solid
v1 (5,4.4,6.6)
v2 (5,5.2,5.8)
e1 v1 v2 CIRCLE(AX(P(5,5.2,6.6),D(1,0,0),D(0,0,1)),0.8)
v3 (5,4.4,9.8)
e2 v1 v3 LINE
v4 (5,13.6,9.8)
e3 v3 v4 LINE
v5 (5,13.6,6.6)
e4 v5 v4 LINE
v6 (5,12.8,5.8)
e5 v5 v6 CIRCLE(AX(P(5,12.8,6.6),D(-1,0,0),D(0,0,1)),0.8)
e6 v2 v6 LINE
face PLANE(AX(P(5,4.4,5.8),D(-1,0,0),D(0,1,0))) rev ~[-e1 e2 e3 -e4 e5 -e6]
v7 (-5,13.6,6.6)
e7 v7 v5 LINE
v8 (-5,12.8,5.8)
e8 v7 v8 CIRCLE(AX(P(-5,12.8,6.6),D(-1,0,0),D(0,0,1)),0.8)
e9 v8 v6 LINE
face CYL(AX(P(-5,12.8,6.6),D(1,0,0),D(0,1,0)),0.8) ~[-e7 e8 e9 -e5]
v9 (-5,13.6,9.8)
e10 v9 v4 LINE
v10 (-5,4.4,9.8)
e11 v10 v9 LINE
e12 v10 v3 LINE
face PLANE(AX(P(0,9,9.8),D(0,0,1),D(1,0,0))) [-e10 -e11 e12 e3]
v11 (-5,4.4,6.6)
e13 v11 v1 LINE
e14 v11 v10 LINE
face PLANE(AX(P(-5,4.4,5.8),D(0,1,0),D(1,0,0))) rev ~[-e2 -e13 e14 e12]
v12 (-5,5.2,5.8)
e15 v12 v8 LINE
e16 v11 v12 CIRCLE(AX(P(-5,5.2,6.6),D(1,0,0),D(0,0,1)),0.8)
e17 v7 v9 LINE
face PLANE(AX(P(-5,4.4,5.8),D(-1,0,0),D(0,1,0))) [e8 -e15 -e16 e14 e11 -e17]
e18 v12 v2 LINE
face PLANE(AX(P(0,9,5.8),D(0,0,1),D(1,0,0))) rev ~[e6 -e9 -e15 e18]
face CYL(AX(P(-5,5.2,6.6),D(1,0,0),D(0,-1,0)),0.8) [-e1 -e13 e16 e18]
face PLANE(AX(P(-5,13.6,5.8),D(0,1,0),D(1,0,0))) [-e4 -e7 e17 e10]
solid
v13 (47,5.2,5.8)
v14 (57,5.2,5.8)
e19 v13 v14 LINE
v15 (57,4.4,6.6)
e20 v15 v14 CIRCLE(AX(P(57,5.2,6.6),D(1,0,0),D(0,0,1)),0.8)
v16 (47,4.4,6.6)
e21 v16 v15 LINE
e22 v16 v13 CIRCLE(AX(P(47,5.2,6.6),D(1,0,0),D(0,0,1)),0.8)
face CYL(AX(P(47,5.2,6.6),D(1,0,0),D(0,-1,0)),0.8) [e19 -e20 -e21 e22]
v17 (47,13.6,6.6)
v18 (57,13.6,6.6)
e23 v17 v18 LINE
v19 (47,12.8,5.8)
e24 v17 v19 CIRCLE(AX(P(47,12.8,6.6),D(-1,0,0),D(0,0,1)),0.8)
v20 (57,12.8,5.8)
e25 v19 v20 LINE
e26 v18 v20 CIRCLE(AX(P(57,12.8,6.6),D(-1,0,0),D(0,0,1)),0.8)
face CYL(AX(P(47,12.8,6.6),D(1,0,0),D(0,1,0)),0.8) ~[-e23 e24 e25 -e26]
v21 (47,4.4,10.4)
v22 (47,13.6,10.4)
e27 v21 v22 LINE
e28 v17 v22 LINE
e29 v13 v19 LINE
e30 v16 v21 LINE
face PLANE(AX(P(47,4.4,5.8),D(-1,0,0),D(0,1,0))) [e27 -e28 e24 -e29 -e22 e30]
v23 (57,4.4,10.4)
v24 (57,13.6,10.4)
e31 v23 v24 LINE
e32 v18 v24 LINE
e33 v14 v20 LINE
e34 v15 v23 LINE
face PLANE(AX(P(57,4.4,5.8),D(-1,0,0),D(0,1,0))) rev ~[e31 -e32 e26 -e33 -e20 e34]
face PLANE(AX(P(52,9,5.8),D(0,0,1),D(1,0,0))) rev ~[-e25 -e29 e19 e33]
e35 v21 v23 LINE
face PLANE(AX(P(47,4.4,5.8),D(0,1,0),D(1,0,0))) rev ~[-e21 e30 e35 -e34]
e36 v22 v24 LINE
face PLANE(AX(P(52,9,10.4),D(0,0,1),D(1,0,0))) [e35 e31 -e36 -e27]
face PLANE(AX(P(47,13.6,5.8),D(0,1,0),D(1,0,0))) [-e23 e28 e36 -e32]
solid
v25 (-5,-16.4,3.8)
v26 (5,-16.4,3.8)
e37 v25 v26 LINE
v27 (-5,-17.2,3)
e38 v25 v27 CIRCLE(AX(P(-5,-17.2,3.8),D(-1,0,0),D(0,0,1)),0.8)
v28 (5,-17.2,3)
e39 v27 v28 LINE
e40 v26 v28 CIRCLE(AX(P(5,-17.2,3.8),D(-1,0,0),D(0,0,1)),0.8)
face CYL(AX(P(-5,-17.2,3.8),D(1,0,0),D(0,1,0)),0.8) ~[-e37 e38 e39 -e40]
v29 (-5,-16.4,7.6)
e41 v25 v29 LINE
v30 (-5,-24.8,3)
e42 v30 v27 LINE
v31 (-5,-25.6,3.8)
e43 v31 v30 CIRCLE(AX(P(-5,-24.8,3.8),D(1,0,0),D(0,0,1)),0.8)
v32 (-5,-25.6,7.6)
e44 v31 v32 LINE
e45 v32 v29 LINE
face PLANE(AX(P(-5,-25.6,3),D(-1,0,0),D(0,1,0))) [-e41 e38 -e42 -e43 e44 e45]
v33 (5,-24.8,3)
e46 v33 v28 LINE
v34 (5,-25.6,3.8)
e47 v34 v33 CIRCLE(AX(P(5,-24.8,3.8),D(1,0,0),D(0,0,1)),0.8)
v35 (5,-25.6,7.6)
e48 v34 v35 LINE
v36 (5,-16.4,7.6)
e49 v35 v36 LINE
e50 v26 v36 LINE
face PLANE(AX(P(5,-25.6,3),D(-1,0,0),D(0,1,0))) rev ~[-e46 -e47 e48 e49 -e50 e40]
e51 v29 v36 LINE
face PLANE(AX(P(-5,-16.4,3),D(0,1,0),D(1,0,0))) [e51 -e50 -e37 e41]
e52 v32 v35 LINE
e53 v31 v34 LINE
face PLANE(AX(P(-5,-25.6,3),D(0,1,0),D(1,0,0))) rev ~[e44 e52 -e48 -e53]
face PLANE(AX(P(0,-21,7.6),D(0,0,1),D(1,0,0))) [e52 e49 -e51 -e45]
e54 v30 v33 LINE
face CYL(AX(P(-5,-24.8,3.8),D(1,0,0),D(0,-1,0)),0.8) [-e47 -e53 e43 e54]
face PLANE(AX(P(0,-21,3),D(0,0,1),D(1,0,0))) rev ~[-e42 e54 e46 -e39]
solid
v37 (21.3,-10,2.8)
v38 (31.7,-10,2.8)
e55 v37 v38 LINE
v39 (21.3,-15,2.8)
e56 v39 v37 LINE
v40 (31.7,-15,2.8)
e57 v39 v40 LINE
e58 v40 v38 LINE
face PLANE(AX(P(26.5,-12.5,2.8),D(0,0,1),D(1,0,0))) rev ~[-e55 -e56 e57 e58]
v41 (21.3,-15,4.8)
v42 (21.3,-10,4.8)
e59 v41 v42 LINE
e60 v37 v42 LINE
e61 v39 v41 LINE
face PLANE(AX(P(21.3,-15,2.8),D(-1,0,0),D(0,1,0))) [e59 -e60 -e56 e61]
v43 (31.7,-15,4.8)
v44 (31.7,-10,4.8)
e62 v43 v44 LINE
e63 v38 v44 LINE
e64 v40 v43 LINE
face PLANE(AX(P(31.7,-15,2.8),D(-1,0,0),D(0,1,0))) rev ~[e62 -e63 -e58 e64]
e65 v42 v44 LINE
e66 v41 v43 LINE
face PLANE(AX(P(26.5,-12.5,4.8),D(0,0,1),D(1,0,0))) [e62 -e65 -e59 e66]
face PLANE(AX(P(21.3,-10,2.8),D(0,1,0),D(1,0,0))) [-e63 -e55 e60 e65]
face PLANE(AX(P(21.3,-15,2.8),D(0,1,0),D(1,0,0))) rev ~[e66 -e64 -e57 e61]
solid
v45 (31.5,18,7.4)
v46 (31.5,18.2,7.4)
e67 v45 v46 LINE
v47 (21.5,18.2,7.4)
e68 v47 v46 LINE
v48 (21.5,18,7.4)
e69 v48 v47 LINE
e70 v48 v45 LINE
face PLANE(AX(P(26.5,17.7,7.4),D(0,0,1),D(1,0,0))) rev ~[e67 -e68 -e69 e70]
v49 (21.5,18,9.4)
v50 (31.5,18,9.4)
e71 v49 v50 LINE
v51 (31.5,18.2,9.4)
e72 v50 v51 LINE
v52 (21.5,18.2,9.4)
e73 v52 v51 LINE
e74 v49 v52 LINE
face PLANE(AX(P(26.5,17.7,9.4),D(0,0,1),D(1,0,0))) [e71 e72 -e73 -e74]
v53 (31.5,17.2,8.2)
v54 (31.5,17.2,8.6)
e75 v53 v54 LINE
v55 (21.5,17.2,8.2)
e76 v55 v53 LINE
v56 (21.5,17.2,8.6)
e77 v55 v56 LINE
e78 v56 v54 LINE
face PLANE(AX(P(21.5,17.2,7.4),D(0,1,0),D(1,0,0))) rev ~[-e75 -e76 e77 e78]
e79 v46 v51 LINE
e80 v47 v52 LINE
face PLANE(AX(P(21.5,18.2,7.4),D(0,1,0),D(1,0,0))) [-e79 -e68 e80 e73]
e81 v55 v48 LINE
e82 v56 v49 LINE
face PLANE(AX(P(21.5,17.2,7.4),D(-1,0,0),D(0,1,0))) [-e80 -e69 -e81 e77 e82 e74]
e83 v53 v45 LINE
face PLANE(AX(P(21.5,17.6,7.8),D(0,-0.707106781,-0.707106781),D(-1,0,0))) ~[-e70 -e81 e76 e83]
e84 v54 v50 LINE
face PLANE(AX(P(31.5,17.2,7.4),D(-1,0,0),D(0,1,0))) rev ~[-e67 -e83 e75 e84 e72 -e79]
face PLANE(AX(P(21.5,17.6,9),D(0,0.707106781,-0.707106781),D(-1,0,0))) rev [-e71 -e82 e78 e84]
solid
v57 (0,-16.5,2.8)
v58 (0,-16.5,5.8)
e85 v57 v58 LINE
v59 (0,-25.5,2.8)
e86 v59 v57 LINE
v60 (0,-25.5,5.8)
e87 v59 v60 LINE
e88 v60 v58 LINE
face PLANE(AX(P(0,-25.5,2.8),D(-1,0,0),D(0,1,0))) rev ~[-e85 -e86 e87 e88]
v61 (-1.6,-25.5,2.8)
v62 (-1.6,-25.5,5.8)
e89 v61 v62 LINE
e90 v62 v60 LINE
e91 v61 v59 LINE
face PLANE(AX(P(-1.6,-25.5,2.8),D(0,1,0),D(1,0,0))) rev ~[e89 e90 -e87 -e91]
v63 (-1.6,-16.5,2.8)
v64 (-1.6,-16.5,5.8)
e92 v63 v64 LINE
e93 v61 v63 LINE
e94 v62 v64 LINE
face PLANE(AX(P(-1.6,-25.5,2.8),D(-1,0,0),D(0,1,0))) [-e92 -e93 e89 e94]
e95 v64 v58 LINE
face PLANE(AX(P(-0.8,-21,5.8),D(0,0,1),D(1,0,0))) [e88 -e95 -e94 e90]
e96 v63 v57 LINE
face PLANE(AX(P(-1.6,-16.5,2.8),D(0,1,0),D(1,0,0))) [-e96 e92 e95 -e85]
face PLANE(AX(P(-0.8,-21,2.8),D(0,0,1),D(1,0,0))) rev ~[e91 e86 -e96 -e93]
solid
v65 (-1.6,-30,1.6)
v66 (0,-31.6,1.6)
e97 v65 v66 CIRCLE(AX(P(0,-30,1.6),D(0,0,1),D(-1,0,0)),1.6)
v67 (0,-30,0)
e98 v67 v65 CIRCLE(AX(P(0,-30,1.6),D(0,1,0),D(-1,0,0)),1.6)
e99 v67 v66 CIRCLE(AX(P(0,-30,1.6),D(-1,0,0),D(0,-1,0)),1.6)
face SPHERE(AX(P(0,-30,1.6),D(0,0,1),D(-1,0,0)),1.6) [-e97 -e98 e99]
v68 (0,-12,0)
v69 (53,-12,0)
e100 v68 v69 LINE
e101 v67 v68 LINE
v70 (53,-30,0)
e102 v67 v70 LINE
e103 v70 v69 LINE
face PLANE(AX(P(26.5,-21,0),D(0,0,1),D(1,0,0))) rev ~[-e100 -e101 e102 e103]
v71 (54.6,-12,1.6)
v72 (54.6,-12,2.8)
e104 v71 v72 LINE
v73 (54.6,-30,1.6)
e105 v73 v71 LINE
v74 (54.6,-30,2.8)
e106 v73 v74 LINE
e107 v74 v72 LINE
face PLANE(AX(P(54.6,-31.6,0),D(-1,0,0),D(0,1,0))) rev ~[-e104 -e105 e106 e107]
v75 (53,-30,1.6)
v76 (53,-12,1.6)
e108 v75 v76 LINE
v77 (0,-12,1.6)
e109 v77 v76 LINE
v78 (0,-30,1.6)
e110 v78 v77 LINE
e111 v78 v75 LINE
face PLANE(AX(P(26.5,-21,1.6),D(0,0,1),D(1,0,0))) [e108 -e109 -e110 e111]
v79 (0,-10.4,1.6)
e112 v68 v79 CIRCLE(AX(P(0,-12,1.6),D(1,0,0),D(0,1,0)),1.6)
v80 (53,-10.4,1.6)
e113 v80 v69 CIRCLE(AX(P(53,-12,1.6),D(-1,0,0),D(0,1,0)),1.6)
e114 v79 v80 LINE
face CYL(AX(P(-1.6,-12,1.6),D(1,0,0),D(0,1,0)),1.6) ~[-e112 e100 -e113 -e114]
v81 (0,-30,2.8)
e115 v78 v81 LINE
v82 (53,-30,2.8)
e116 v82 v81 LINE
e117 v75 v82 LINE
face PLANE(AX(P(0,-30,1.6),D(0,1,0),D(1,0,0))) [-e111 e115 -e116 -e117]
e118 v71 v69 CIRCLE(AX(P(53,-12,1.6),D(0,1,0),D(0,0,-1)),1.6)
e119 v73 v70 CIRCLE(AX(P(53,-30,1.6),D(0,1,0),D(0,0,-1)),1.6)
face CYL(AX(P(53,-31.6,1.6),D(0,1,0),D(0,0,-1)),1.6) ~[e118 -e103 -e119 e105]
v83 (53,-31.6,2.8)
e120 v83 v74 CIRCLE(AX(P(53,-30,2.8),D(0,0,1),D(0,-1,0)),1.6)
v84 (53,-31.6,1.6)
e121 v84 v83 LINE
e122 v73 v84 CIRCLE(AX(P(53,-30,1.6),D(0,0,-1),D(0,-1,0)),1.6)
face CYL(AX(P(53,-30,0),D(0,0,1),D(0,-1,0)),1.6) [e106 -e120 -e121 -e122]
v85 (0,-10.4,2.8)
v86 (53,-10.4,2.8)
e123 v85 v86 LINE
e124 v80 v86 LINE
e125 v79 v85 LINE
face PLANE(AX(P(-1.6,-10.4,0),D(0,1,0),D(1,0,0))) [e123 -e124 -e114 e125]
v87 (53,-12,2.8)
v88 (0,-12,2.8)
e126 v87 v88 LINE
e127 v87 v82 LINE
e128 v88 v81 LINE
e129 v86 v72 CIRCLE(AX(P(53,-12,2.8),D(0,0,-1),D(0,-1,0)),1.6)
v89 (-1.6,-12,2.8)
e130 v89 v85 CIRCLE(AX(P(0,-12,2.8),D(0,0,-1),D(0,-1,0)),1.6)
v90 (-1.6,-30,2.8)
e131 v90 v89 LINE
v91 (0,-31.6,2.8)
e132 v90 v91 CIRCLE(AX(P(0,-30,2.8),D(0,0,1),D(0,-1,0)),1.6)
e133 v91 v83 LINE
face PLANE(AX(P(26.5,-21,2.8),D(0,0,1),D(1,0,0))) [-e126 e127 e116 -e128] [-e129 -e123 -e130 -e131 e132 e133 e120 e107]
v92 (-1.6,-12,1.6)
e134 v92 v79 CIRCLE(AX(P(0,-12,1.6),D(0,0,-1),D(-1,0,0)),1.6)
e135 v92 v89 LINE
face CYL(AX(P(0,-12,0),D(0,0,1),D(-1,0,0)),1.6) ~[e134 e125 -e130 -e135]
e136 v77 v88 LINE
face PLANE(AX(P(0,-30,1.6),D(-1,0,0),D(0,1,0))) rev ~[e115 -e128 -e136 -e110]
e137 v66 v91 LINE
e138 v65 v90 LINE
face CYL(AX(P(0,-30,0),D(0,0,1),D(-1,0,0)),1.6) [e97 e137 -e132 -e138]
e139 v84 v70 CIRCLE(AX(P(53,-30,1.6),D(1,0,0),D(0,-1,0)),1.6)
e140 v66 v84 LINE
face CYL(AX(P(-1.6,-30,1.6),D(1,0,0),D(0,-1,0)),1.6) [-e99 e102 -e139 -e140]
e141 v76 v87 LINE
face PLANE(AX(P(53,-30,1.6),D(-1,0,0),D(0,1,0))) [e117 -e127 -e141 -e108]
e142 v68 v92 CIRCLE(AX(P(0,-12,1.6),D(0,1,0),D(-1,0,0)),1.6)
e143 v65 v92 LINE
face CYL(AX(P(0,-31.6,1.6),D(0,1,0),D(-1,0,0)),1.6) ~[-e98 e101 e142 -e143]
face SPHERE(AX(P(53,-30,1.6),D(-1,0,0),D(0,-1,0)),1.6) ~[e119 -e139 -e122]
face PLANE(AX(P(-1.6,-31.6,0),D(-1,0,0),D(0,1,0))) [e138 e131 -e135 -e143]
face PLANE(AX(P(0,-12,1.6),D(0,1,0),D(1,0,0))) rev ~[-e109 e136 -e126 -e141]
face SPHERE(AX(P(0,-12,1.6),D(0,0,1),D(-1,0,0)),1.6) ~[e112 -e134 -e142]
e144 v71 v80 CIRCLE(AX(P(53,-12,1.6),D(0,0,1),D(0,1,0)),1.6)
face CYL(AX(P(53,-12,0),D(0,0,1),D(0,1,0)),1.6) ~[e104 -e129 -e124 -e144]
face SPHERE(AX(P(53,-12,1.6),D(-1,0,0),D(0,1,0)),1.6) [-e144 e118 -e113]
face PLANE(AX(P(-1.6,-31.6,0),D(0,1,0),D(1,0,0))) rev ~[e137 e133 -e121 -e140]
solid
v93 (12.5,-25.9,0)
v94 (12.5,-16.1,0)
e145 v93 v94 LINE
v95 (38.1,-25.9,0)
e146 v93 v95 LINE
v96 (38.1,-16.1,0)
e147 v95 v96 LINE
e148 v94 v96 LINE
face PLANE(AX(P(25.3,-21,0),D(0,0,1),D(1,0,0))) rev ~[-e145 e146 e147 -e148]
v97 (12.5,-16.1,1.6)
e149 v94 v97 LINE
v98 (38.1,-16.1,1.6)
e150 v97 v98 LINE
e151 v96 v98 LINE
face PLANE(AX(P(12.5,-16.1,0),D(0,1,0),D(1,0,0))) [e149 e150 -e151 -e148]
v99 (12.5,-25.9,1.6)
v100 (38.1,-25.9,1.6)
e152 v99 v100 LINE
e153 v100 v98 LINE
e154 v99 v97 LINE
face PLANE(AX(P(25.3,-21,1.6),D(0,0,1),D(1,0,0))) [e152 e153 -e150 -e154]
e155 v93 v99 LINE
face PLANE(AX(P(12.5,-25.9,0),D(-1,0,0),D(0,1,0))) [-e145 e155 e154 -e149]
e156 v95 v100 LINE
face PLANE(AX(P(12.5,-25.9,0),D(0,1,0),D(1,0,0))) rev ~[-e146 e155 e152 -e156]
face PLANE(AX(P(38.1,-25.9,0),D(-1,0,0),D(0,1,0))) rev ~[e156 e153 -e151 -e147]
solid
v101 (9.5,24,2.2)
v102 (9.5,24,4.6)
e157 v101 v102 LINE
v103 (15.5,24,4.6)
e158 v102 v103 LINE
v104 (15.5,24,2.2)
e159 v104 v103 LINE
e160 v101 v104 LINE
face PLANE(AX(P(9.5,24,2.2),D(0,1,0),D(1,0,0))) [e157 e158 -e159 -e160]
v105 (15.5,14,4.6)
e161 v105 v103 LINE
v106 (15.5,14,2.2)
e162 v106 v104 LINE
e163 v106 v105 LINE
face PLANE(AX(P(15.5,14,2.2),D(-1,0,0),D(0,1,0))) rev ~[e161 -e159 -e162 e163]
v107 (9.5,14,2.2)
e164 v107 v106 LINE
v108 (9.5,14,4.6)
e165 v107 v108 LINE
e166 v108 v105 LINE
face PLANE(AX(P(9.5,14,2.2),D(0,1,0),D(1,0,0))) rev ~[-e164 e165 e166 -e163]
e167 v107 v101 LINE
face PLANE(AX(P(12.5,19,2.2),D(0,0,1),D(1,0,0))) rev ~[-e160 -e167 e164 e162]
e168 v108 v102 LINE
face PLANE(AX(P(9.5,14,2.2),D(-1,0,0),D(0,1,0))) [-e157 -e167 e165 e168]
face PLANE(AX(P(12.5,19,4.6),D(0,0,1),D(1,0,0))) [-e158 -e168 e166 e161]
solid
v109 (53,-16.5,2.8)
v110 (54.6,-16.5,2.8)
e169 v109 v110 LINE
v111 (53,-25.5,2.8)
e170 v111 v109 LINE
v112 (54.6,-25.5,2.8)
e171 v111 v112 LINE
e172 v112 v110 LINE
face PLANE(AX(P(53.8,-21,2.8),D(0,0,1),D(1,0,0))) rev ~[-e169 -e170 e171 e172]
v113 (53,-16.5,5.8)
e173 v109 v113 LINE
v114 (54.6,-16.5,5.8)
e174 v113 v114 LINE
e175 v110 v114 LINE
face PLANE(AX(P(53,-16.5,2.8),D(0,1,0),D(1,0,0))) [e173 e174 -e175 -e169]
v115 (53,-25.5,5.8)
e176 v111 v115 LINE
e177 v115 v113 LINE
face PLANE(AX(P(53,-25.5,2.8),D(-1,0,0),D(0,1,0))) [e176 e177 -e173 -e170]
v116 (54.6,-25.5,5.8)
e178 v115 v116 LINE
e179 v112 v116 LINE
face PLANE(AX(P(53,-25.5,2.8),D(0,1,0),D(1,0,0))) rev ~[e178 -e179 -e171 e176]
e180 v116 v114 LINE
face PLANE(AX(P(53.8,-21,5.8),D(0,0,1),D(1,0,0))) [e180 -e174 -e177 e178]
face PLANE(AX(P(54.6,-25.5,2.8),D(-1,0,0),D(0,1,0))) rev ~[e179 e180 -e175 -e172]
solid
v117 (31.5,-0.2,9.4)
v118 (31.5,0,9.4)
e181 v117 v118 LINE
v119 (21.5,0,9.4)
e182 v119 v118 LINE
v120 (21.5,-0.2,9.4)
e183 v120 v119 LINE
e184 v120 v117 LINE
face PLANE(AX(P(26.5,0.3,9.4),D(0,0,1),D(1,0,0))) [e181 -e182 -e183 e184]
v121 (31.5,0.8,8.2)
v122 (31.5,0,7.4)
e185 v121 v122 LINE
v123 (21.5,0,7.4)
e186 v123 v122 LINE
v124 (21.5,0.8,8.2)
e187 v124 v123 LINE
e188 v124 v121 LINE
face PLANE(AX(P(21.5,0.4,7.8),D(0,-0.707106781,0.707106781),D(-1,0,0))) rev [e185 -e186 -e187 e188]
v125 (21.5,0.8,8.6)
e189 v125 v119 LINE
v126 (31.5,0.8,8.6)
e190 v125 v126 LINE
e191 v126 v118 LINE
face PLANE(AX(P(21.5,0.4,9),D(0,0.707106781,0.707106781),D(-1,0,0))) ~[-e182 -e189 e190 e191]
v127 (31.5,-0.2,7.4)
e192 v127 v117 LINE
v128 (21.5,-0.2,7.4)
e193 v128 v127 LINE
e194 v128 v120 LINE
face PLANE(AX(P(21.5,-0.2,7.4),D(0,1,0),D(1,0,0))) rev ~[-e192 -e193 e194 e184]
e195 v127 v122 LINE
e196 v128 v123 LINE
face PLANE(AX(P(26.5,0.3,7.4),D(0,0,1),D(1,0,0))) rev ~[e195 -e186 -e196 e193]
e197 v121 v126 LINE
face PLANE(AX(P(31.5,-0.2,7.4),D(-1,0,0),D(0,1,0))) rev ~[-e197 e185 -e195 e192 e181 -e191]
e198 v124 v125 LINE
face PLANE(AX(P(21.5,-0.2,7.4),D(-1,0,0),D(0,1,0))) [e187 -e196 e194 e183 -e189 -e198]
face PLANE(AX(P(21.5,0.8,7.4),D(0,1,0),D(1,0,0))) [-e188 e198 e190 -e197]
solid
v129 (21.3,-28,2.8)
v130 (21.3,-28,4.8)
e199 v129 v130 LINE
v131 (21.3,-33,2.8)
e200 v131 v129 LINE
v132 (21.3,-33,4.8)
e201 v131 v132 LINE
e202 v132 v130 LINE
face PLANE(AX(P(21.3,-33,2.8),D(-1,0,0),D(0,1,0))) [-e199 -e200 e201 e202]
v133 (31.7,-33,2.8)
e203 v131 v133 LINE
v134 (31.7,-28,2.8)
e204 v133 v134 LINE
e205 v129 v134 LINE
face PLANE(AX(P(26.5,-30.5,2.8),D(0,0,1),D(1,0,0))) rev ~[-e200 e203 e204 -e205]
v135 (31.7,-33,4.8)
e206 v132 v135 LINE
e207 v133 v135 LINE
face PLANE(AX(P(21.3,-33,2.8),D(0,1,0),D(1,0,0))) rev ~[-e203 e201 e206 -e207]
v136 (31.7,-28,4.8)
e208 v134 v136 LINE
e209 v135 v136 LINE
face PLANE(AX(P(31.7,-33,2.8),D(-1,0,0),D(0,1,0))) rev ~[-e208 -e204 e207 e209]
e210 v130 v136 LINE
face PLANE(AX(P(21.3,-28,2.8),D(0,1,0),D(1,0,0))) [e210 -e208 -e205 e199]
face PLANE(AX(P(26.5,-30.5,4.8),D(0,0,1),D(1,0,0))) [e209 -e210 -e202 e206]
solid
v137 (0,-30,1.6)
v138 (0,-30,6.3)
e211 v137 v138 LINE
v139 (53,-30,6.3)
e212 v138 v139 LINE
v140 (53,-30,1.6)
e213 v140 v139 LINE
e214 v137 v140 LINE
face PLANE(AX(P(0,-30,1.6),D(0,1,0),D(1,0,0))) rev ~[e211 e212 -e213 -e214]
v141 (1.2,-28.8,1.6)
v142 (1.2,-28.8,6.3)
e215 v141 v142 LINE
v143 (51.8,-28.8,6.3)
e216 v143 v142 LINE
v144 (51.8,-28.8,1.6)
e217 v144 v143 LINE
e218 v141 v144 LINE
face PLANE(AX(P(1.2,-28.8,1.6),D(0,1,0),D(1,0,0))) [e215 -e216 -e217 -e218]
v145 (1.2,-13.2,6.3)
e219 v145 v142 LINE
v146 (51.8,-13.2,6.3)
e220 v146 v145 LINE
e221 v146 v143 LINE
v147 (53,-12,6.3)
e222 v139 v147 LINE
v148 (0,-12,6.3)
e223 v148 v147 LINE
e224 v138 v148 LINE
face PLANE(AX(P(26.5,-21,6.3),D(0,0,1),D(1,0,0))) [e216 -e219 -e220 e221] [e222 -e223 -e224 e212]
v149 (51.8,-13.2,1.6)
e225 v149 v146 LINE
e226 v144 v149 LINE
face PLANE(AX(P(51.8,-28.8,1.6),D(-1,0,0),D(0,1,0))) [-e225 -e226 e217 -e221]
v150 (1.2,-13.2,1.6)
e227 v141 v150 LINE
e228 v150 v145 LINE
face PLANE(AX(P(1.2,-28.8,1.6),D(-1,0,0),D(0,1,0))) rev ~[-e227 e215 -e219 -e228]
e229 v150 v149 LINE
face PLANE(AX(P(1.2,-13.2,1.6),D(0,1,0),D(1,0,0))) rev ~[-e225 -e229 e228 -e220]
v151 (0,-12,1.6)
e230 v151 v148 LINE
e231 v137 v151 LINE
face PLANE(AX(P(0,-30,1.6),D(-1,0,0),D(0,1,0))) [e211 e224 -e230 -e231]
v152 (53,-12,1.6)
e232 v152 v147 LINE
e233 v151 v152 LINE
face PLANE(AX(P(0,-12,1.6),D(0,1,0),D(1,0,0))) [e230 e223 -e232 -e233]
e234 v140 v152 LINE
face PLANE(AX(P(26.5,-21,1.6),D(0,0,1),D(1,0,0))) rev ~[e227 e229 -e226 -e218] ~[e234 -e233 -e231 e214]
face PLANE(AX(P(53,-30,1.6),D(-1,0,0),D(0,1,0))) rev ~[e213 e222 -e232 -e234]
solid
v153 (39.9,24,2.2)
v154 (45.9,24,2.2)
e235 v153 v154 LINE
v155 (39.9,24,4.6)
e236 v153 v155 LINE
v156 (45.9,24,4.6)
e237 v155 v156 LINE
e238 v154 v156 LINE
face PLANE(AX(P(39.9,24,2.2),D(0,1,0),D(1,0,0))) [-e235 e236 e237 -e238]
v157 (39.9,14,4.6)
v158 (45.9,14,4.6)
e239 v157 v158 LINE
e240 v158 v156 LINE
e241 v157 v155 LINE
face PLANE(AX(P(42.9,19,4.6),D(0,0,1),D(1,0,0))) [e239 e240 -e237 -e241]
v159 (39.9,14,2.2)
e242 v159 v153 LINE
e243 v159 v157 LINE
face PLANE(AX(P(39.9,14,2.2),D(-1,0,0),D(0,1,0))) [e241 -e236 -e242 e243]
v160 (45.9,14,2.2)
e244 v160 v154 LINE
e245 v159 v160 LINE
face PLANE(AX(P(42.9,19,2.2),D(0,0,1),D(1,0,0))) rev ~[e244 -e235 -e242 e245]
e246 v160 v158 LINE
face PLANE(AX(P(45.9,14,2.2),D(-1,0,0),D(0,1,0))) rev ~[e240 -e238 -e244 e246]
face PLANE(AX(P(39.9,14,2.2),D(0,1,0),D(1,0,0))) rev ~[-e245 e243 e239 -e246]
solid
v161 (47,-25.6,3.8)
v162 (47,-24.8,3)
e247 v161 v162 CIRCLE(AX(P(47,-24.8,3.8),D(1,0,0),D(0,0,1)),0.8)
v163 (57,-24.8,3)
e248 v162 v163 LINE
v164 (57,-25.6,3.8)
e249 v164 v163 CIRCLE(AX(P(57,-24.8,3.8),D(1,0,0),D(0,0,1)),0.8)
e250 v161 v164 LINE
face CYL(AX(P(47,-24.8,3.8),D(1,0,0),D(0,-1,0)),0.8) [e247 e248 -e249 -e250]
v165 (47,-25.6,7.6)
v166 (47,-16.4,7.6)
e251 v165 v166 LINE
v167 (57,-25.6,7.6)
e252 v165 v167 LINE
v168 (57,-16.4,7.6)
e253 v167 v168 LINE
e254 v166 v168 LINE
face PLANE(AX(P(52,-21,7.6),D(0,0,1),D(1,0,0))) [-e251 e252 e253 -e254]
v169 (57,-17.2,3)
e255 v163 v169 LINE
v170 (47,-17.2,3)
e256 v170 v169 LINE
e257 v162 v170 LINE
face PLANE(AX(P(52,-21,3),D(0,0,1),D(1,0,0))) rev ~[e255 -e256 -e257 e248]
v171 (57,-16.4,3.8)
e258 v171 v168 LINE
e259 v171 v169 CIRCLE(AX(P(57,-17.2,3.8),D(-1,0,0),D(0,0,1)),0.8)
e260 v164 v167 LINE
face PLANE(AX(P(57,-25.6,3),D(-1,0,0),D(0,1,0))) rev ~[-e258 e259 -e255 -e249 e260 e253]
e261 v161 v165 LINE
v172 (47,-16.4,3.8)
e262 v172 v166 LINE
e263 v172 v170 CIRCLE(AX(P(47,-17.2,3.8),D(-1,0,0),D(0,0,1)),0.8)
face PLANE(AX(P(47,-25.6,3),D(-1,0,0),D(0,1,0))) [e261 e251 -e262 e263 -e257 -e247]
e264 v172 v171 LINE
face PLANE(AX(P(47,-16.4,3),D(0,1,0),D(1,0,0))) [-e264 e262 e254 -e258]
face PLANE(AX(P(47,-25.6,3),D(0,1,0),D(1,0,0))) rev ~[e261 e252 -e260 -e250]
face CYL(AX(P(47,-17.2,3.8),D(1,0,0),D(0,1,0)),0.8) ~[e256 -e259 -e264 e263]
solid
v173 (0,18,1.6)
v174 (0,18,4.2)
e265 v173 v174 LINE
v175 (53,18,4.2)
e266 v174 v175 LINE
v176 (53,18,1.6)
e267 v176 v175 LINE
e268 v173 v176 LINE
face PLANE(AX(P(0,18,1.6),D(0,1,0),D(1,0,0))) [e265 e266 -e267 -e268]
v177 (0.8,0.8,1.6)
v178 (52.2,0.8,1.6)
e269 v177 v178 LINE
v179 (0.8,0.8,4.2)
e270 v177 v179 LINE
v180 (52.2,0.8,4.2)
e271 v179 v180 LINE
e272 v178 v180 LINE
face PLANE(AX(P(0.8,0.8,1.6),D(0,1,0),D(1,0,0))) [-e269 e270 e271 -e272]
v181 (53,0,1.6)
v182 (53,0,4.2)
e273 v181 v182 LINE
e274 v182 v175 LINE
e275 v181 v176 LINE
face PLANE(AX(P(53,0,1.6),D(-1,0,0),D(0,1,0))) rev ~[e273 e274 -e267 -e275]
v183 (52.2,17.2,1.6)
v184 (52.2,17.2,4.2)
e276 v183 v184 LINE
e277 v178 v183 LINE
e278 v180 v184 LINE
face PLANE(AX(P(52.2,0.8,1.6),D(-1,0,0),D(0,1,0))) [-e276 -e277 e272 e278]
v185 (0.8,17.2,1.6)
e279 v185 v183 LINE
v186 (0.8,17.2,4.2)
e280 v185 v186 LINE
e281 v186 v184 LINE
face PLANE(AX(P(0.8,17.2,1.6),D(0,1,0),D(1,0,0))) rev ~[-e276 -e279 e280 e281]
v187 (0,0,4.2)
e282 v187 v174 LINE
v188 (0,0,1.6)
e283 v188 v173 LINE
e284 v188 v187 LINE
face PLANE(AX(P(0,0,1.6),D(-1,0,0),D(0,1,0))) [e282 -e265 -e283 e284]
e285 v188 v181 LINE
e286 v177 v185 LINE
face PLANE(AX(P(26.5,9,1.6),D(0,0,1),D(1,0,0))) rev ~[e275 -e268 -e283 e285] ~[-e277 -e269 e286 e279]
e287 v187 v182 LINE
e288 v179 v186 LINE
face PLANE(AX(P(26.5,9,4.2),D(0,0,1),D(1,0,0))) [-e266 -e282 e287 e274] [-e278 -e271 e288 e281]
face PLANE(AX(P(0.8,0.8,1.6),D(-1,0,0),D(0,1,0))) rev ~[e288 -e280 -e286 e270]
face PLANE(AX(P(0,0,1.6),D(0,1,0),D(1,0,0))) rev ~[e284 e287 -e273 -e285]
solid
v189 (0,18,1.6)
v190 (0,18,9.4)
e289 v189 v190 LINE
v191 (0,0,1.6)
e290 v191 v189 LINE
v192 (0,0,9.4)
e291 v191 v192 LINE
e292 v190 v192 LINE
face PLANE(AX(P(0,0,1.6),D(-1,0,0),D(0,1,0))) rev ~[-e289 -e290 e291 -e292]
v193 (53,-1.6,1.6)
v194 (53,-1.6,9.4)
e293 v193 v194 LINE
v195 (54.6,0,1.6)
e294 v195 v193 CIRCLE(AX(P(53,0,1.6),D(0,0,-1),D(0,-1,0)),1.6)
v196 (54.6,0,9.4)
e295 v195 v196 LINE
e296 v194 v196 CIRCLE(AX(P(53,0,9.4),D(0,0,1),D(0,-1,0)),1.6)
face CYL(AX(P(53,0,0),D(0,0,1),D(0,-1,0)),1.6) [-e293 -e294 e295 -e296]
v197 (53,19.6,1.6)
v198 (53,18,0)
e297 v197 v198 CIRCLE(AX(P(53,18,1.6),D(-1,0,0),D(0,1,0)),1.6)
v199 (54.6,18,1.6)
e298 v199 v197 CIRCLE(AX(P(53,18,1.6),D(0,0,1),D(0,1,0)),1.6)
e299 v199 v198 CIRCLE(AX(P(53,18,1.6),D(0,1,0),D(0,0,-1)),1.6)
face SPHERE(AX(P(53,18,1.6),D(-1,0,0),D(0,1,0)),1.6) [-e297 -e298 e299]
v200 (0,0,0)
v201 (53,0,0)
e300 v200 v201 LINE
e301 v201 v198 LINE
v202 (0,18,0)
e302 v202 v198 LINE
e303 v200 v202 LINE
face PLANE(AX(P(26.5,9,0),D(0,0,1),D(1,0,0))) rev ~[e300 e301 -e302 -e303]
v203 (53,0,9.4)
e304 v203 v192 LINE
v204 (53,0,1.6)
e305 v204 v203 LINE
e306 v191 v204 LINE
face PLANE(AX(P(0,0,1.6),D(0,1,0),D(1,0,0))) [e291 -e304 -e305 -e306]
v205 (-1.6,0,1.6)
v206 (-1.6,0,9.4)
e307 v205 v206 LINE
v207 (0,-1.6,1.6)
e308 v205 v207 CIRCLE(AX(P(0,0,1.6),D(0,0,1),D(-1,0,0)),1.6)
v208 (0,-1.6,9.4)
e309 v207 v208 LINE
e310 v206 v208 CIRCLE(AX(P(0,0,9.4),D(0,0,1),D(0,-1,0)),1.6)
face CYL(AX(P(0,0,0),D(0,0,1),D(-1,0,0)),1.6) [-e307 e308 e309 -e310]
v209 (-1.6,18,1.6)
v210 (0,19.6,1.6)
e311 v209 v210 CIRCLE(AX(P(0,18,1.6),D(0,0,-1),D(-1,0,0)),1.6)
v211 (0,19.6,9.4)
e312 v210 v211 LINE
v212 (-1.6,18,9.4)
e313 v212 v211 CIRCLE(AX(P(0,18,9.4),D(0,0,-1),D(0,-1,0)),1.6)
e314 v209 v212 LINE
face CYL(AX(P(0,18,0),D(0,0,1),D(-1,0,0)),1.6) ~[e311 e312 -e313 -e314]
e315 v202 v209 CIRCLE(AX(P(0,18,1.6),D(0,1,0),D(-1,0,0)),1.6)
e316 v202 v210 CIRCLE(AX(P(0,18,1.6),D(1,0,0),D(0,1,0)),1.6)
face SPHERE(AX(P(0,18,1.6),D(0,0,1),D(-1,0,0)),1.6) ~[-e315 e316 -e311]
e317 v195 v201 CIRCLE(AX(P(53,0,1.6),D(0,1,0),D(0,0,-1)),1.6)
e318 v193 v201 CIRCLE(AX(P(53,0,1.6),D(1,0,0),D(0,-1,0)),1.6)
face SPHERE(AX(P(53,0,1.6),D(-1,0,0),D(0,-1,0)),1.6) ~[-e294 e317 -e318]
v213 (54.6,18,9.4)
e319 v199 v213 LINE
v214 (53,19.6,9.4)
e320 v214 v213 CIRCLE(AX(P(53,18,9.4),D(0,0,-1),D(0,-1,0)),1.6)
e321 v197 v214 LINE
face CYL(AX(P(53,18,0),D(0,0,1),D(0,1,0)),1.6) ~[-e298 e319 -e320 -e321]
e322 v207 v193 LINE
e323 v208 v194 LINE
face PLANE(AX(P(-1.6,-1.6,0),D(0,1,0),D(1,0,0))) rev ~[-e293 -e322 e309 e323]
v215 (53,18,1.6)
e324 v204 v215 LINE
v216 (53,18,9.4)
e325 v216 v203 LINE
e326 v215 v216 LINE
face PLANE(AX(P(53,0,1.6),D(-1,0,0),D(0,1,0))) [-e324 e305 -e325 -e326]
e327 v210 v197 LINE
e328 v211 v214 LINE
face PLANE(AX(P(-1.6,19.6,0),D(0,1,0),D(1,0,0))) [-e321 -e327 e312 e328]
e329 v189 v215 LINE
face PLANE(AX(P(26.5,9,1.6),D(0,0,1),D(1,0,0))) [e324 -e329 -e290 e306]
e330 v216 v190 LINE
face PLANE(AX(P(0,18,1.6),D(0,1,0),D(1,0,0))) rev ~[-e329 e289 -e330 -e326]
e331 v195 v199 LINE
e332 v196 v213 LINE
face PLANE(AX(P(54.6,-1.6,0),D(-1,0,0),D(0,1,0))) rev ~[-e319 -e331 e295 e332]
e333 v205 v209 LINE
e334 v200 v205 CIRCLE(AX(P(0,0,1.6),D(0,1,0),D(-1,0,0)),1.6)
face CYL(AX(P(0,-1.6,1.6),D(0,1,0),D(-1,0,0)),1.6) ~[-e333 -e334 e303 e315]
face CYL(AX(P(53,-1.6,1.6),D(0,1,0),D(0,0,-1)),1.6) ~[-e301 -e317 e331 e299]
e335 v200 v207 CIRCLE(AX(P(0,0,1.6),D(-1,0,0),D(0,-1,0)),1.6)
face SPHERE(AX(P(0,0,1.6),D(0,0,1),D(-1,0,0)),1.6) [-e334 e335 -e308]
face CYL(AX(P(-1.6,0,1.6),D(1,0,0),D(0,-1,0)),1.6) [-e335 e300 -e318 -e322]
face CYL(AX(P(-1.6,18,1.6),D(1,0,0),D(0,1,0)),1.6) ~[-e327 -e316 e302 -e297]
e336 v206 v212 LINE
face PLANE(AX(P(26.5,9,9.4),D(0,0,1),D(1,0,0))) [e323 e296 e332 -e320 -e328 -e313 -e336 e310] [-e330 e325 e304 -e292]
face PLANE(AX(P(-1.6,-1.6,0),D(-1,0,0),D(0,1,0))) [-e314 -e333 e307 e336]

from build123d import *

# Parameters (mm, degrees)
BOX001_W        = 53
BOX001_H        = 18
BOX001_DEPTH    = 9.4
BOX_W           = 56.2
BOX_H           = 21.2
BOX_DEPTH       = 9.4
FILLET_R        = 1.6
BOX003_W        = 51.4
BOX003_H        = 16.4
BOX003_DEPTH    = 2.6
BOX002_W        = 53
BOX002_H        = 18
BOX002_DEPTH    = 2.6
BOX004_W        = 10
BOX004_H        = 1
BOX004_DEPTH    = 2
CHAMFER_SIZE    = 0.8
BOX005_W        = 10
BOX005_H        = 1
BOX005_DEPTH    = 2
CHAMFER001_SIZE = 0.8
BOX008_W        = 6
BOX008_H        = 10
BOX008_DEPTH    = 2.4
BOX009_W        = 6
BOX009_H        = 10
BOX009_DEPTH    = 2.4
BOX011_W        = 53
BOX011_H        = 18
BOX011_DEPTH    = 9.4
BOX010_W        = 56.2
BOX010_H        = 21.2
BOX010_DEPTH    = 2.8
FILLET001_R     = 1.6
BOX013_W        = 50.6
BOX013_H        = 15.6
BOX013_DEPTH    = 4.8
BOX012_W        = 53
BOX012_H        = 18
BOX012_DEPTH    = 4.7
BOX014_W        = 25.6
BOX014_H        = 9.8
BOX014_DEPTH    = 1.6
BOX017_W        = 10.4
BOX017_H        = 5
BOX017_DEPTH    = 2
BOX018_W        = 10.4
BOX018_H        = 5
BOX018_DEPTH    = 2
BOX006_W        = 10
BOX006_H        = 9.2
BOX006_DEPTH    = 4
FILLET002_R     = 0.8
BOX019_W        = 10
BOX019_H        = 9.2
BOX019_DEPTH    = 4.6
FILLET003_R     = 0.8
BOX022_W        = 1.6
BOX022_H        = 9
BOX022_DEPTH    = 3
BOX023_W        = 1.6
BOX023_H        = 9
BOX023_DEPTH    = 3
BOX020_W        = 10
BOX020_H        = 9.2
BOX020_DEPTH    = 4.6
FILLET004_R     = 0.8
BOX021_W        = 10
BOX021_H        = 9.2
BOX021_DEPTH    = 4.6
FILLET005_R     = 0.8


with BuildPart() as unten_innen:
    # Box001 → Box001 (new body)
    with BuildSketch(Plane.XY.offset(1.6)):
        with Locations((26.5, 9)):
            Rectangle(BOX001_W, BOX001_H)
    extrude(amount=BOX001_DEPTH)


with BuildPart() as schale_unten:
    # Box → Box (new body)
    with BuildSketch(Plane(origin=(-1.6, -1.6, 0), x_dir=(1, 0, 0), z_dir=(0, 0, 1))):
        with Locations((28.1, 10.6)):
            Rectangle(BOX_W, BOX_H)
    extrude(amount=BOX_DEPTH)

    # Cut: cut unten_innen
    add(unten_innen.part, mode=Mode.SUBTRACT)

    # Fillet
    fillet_edges = [schale_unten.edges().sort_by_distance(p)[0] for p in [
        (-1.6, -1.6, 4.7),
        (-1.6, 19.6, 4.7),
        (-1.6, 9, 0),
        (26.5, -1.6, 0),
        (54.6, -1.6, 4.7),
        (26.5, 19.6, 0),
        (54.6, 19.6, 4.7),
        (54.6, 9, 0),
    ]]
    fillet(fillet_edges, radius=FILLET_R)


with BuildPart() as auflage_innen:
    # Box003 → Box003 (new body)
    with BuildSketch(Plane(origin=(0.8, 0.8, 1.6), x_dir=(1, 0, 0), z_dir=(0, 0, 1))):
        with Locations((25.7, 8.2)):
            Rectangle(BOX003_W, BOX003_H)
    extrude(amount=BOX003_DEPTH)


with BuildPart() as auflage:
    # Box002 → Box002 (new body)
    with BuildSketch(Plane.XY.offset(1.6)):
        with Locations((26.5, 9)):
            Rectangle(BOX002_W, BOX002_H)
    extrude(amount=BOX002_DEPTH)

    # Cut001: cut Auflage_innen
    add(auflage_innen.part, mode=Mode.SUBTRACT)


with BuildPart() as haken1:
    # Box004 → Box004 (new body)
    with BuildSketch(Plane(origin=(21.5, -0.2, 7.4), x_dir=(1, 0, 0), z_dir=(0, 0, 1))):
        with Locations((5, 0.5)):
            Rectangle(BOX004_W, BOX004_H)
    extrude(amount=BOX004_DEPTH)

    # Chamfer
    chamfer_edges = [haken1.edges().sort_by_distance(p)[0] for p in [
        (26.5, 0.8, 7.4),
        (26.5, 0.8, 9.4),
    ]]
    chamfer(chamfer_edges, length=CHAMFER_SIZE)


with BuildPart() as haken2:
    # Box005 → Box005 (new body)
    with BuildSketch(Plane(origin=(21.5, 17.2, 7.4), x_dir=(1, 0, 0), z_dir=(0, 0, 1))):
        with Locations((5, 0.5)):
            Rectangle(BOX005_W, BOX005_H)
    extrude(amount=BOX005_DEPTH)

    # Chamfer001
    chamfer001_edges = [haken2.edges().sort_by_distance(p)[0] for p in [
        (26.5, 17.2, 7.4),
        (26.5, 17.2, 9.4),
    ]]
    chamfer(chamfer001_edges, length=CHAMFER001_SIZE)


with BuildPart() as button1:
    # Box008 → Box008 (new body)
    with BuildSketch(Plane(origin=(9.5, 14, 2.2), x_dir=(1, 0, 0), z_dir=(0, 0, 1))):
        with Locations((3, 5)):
            Rectangle(BOX008_W, BOX008_H)
    extrude(amount=BOX008_DEPTH)


with BuildPart() as button2:
    # Box009 → Box009 (new body)
    with BuildSketch(Plane(origin=(39.9, 14, 2.2), x_dir=(1, 0, 0), z_dir=(0, 0, 1))):
        with Locations((3, 5)):
            Rectangle(BOX009_W, BOX009_H)
    extrude(amount=BOX009_DEPTH)


with BuildPart() as oben_innen:
    # Box011 → Box011 (new body)
    with BuildSketch(Plane(origin=(0, -30, 1.6), x_dir=(1, 0, 0), z_dir=(0, 0, 1))):
        with Locations((26.5, 9)):
            Rectangle(BOX011_W, BOX011_H)
    extrude(amount=BOX011_DEPTH)


with BuildPart() as schale_oben:
    # Box010 → Box010 (new body)
    with BuildSketch(Plane(origin=(-1.6, -31.6, 0), x_dir=(1, 0, 0), z_dir=(0, 0, 1))):
        with Locations((28.1, 10.6)):
            Rectangle(BOX010_W, BOX010_H)
    extrude(amount=BOX010_DEPTH)

    # Cut002: cut oben_innen
    add(oben_innen.part, mode=Mode.SUBTRACT)

    # Fillet001
    fillet001_edges = [schale_oben.edges().sort_by_distance(p)[0] for p in [
        (-1.6, -31.6, 1.4),
        (-1.6, -10.4, 1.4),
        (-1.6, -21, 0),
        (26.5, -31.6, 0),
        (54.6, -31.6, 1.4),
        (26.5, -10.4, 0),
        (54.6, -10.4, 1.4),
        (54.6, -21, 0),
    ]]
    fillet(fillet001_edges, radius=FILLET001_R)


with BuildPart() as rahmen_innen:
    # Box013 → Box013 (new body)
    with BuildSketch(Plane(origin=(1.2, -28.8, 1.6), x_dir=(1, 0, 0), z_dir=(0, 0, 1))):
        with Locations((25.3, 7.8)):
            Rectangle(BOX013_W, BOX013_H)
    extrude(amount=BOX013_DEPTH)


with BuildPart() as rahmen:
    # Box012 → Box012 (new body)
    with BuildSketch(Plane(origin=(0, -30, 1.6), x_dir=(1, 0, 0), z_dir=(0, 0, 1))):
        with Locations((26.5, 9)):
            Rectangle(BOX012_W, BOX012_H)
    extrude(amount=BOX012_DEPTH)

    # Cut003: cut Rahmen_innen
    add(rahmen_innen.part, mode=Mode.SUBTRACT)


with BuildPart() as oled:
    # Box014 → Box014 (new body)
    with BuildSketch(Plane(origin=(12.5, -25.9, 0), x_dir=(1, 0, 0), z_dir=(0, 0, 1))):
        with Locations((12.8, 4.9)):
            Rectangle(BOX014_W, BOX014_H)
    extrude(amount=BOX014_DEPTH)


with BuildPart() as oese1:
    # Box017 → Box017 (new body)
    with BuildSketch(Plane(origin=(21.3, -33, 2.8), x_dir=(1, 0, 0), z_dir=(0, 0, 1))):
        with Locations((5.2, 2.5)):
            Rectangle(BOX017_W, BOX017_H)
    extrude(amount=BOX017_DEPTH)


with BuildPart() as oese2:
    # Box018 → Box018 (new body)
    with BuildSketch(Plane(origin=(21.3, -15, 2.8), x_dir=(1, 0, 0), z_dir=(0, 0, 1))):
        with Locations((5.2, 2.5)):
            Rectangle(BOX018_W, BOX018_H)
    extrude(amount=BOX018_DEPTH)


with BuildPart() as usb_buchse1:
    # Box006 → Box006 (new body)
    with BuildSketch(Plane(origin=(-5, 4.4, 5.8), x_dir=(1, 0, 0), z_dir=(0, 0, 1))):
        with Locations((5, 4.6)):
            Rectangle(BOX006_W, BOX006_H)
    extrude(amount=BOX006_DEPTH)

    # Fillet002
    fillet002_edges = [usb_buchse1.edges().sort_by_distance(p)[0] for p in [
        (0, 4.4, 5.8),
        (0, 13.6, 5.8),
    ]]
    fillet(fillet002_edges, radius=FILLET002_R)


with BuildPart() as usb_buchse2:
    # Box019 → Box019 (new body)
    with BuildSketch(Plane(origin=(47, 4.4, 5.8), x_dir=(1, 0, 0), z_dir=(0, 0, 1))):
        with Locations((5, 4.6)):
            Rectangle(BOX019_W, BOX019_H)
    extrude(amount=BOX019_DEPTH)

    # Fillet003
    fillet003_edges = [usb_buchse2.edges().sort_by_distance(p)[0] for p in [
        (52, 4.4, 5.8),
        (52, 13.6, 5.8),
    ]]
    fillet(fillet003_edges, radius=FILLET003_R)


with BuildPart() as nut1:
    # Box022 → Box022 (new body)
    with BuildSketch(Plane(origin=(-1.6, -25.5, 2.8), x_dir=(1, 0, 0), z_dir=(0, 0, 1))):
        with Locations((0.8, 4.5)):
            Rectangle(BOX022_W, BOX022_H)
    extrude(amount=BOX022_DEPTH)


with BuildPart() as nut2:
    # Box023 → Box023 (new body)
    with BuildSketch(Plane(origin=(53, -25.5, 2.8), x_dir=(1, 0, 0), z_dir=(0, 0, 1))):
        with Locations((0.8, 4.5)):
            Rectangle(BOX023_W, BOX023_H)
    extrude(amount=BOX023_DEPTH)


with BuildPart() as usb_buchse3:
    # Box020 → Box020 (new body)
    with BuildSketch(Plane(origin=(-5, -25.6, 3), x_dir=(1, 0, 0), z_dir=(0, 0, 1))):
        with Locations((5, 4.6)):
            Rectangle(BOX020_W, BOX020_H)
    extrude(amount=BOX020_DEPTH)

    # Fillet004
    fillet004_edges = [usb_buchse3.edges().sort_by_distance(p)[0] for p in [
        (0, -25.6, 3),
        (0, -16.4, 3),
    ]]
    fillet(fillet004_edges, radius=FILLET004_R)


with BuildPart() as usb_buchse4:
    # Box021 → Box021 (new body)
    with BuildSketch(Plane(origin=(47, -25.6, 3), x_dir=(1, 0, 0), z_dir=(0, 0, 1))):
        with Locations((5, 4.6)):
            Rectangle(BOX021_W, BOX021_H)
    extrude(amount=BOX021_DEPTH)

    # Fillet005
    fillet005_edges = [usb_buchse4.edges().sort_by_distance(p)[0] for p in [
        (52, -25.6, 3),
        (52, -16.4, 3),
    ]]
    fillet(fillet005_edges, radius=FILLET005_R)


solid = Compound([schale_unten.part, auflage.part, haken1.part, haken2.part, button1.part, button2.part, schale_oben.part, rahmen.part, oled.part, oese1.part, oese2.part, usb_buchse1.part, usb_buchse2.part, nut1.part, nut2.part, usb_buchse3.part, usb_buchse4.part])
